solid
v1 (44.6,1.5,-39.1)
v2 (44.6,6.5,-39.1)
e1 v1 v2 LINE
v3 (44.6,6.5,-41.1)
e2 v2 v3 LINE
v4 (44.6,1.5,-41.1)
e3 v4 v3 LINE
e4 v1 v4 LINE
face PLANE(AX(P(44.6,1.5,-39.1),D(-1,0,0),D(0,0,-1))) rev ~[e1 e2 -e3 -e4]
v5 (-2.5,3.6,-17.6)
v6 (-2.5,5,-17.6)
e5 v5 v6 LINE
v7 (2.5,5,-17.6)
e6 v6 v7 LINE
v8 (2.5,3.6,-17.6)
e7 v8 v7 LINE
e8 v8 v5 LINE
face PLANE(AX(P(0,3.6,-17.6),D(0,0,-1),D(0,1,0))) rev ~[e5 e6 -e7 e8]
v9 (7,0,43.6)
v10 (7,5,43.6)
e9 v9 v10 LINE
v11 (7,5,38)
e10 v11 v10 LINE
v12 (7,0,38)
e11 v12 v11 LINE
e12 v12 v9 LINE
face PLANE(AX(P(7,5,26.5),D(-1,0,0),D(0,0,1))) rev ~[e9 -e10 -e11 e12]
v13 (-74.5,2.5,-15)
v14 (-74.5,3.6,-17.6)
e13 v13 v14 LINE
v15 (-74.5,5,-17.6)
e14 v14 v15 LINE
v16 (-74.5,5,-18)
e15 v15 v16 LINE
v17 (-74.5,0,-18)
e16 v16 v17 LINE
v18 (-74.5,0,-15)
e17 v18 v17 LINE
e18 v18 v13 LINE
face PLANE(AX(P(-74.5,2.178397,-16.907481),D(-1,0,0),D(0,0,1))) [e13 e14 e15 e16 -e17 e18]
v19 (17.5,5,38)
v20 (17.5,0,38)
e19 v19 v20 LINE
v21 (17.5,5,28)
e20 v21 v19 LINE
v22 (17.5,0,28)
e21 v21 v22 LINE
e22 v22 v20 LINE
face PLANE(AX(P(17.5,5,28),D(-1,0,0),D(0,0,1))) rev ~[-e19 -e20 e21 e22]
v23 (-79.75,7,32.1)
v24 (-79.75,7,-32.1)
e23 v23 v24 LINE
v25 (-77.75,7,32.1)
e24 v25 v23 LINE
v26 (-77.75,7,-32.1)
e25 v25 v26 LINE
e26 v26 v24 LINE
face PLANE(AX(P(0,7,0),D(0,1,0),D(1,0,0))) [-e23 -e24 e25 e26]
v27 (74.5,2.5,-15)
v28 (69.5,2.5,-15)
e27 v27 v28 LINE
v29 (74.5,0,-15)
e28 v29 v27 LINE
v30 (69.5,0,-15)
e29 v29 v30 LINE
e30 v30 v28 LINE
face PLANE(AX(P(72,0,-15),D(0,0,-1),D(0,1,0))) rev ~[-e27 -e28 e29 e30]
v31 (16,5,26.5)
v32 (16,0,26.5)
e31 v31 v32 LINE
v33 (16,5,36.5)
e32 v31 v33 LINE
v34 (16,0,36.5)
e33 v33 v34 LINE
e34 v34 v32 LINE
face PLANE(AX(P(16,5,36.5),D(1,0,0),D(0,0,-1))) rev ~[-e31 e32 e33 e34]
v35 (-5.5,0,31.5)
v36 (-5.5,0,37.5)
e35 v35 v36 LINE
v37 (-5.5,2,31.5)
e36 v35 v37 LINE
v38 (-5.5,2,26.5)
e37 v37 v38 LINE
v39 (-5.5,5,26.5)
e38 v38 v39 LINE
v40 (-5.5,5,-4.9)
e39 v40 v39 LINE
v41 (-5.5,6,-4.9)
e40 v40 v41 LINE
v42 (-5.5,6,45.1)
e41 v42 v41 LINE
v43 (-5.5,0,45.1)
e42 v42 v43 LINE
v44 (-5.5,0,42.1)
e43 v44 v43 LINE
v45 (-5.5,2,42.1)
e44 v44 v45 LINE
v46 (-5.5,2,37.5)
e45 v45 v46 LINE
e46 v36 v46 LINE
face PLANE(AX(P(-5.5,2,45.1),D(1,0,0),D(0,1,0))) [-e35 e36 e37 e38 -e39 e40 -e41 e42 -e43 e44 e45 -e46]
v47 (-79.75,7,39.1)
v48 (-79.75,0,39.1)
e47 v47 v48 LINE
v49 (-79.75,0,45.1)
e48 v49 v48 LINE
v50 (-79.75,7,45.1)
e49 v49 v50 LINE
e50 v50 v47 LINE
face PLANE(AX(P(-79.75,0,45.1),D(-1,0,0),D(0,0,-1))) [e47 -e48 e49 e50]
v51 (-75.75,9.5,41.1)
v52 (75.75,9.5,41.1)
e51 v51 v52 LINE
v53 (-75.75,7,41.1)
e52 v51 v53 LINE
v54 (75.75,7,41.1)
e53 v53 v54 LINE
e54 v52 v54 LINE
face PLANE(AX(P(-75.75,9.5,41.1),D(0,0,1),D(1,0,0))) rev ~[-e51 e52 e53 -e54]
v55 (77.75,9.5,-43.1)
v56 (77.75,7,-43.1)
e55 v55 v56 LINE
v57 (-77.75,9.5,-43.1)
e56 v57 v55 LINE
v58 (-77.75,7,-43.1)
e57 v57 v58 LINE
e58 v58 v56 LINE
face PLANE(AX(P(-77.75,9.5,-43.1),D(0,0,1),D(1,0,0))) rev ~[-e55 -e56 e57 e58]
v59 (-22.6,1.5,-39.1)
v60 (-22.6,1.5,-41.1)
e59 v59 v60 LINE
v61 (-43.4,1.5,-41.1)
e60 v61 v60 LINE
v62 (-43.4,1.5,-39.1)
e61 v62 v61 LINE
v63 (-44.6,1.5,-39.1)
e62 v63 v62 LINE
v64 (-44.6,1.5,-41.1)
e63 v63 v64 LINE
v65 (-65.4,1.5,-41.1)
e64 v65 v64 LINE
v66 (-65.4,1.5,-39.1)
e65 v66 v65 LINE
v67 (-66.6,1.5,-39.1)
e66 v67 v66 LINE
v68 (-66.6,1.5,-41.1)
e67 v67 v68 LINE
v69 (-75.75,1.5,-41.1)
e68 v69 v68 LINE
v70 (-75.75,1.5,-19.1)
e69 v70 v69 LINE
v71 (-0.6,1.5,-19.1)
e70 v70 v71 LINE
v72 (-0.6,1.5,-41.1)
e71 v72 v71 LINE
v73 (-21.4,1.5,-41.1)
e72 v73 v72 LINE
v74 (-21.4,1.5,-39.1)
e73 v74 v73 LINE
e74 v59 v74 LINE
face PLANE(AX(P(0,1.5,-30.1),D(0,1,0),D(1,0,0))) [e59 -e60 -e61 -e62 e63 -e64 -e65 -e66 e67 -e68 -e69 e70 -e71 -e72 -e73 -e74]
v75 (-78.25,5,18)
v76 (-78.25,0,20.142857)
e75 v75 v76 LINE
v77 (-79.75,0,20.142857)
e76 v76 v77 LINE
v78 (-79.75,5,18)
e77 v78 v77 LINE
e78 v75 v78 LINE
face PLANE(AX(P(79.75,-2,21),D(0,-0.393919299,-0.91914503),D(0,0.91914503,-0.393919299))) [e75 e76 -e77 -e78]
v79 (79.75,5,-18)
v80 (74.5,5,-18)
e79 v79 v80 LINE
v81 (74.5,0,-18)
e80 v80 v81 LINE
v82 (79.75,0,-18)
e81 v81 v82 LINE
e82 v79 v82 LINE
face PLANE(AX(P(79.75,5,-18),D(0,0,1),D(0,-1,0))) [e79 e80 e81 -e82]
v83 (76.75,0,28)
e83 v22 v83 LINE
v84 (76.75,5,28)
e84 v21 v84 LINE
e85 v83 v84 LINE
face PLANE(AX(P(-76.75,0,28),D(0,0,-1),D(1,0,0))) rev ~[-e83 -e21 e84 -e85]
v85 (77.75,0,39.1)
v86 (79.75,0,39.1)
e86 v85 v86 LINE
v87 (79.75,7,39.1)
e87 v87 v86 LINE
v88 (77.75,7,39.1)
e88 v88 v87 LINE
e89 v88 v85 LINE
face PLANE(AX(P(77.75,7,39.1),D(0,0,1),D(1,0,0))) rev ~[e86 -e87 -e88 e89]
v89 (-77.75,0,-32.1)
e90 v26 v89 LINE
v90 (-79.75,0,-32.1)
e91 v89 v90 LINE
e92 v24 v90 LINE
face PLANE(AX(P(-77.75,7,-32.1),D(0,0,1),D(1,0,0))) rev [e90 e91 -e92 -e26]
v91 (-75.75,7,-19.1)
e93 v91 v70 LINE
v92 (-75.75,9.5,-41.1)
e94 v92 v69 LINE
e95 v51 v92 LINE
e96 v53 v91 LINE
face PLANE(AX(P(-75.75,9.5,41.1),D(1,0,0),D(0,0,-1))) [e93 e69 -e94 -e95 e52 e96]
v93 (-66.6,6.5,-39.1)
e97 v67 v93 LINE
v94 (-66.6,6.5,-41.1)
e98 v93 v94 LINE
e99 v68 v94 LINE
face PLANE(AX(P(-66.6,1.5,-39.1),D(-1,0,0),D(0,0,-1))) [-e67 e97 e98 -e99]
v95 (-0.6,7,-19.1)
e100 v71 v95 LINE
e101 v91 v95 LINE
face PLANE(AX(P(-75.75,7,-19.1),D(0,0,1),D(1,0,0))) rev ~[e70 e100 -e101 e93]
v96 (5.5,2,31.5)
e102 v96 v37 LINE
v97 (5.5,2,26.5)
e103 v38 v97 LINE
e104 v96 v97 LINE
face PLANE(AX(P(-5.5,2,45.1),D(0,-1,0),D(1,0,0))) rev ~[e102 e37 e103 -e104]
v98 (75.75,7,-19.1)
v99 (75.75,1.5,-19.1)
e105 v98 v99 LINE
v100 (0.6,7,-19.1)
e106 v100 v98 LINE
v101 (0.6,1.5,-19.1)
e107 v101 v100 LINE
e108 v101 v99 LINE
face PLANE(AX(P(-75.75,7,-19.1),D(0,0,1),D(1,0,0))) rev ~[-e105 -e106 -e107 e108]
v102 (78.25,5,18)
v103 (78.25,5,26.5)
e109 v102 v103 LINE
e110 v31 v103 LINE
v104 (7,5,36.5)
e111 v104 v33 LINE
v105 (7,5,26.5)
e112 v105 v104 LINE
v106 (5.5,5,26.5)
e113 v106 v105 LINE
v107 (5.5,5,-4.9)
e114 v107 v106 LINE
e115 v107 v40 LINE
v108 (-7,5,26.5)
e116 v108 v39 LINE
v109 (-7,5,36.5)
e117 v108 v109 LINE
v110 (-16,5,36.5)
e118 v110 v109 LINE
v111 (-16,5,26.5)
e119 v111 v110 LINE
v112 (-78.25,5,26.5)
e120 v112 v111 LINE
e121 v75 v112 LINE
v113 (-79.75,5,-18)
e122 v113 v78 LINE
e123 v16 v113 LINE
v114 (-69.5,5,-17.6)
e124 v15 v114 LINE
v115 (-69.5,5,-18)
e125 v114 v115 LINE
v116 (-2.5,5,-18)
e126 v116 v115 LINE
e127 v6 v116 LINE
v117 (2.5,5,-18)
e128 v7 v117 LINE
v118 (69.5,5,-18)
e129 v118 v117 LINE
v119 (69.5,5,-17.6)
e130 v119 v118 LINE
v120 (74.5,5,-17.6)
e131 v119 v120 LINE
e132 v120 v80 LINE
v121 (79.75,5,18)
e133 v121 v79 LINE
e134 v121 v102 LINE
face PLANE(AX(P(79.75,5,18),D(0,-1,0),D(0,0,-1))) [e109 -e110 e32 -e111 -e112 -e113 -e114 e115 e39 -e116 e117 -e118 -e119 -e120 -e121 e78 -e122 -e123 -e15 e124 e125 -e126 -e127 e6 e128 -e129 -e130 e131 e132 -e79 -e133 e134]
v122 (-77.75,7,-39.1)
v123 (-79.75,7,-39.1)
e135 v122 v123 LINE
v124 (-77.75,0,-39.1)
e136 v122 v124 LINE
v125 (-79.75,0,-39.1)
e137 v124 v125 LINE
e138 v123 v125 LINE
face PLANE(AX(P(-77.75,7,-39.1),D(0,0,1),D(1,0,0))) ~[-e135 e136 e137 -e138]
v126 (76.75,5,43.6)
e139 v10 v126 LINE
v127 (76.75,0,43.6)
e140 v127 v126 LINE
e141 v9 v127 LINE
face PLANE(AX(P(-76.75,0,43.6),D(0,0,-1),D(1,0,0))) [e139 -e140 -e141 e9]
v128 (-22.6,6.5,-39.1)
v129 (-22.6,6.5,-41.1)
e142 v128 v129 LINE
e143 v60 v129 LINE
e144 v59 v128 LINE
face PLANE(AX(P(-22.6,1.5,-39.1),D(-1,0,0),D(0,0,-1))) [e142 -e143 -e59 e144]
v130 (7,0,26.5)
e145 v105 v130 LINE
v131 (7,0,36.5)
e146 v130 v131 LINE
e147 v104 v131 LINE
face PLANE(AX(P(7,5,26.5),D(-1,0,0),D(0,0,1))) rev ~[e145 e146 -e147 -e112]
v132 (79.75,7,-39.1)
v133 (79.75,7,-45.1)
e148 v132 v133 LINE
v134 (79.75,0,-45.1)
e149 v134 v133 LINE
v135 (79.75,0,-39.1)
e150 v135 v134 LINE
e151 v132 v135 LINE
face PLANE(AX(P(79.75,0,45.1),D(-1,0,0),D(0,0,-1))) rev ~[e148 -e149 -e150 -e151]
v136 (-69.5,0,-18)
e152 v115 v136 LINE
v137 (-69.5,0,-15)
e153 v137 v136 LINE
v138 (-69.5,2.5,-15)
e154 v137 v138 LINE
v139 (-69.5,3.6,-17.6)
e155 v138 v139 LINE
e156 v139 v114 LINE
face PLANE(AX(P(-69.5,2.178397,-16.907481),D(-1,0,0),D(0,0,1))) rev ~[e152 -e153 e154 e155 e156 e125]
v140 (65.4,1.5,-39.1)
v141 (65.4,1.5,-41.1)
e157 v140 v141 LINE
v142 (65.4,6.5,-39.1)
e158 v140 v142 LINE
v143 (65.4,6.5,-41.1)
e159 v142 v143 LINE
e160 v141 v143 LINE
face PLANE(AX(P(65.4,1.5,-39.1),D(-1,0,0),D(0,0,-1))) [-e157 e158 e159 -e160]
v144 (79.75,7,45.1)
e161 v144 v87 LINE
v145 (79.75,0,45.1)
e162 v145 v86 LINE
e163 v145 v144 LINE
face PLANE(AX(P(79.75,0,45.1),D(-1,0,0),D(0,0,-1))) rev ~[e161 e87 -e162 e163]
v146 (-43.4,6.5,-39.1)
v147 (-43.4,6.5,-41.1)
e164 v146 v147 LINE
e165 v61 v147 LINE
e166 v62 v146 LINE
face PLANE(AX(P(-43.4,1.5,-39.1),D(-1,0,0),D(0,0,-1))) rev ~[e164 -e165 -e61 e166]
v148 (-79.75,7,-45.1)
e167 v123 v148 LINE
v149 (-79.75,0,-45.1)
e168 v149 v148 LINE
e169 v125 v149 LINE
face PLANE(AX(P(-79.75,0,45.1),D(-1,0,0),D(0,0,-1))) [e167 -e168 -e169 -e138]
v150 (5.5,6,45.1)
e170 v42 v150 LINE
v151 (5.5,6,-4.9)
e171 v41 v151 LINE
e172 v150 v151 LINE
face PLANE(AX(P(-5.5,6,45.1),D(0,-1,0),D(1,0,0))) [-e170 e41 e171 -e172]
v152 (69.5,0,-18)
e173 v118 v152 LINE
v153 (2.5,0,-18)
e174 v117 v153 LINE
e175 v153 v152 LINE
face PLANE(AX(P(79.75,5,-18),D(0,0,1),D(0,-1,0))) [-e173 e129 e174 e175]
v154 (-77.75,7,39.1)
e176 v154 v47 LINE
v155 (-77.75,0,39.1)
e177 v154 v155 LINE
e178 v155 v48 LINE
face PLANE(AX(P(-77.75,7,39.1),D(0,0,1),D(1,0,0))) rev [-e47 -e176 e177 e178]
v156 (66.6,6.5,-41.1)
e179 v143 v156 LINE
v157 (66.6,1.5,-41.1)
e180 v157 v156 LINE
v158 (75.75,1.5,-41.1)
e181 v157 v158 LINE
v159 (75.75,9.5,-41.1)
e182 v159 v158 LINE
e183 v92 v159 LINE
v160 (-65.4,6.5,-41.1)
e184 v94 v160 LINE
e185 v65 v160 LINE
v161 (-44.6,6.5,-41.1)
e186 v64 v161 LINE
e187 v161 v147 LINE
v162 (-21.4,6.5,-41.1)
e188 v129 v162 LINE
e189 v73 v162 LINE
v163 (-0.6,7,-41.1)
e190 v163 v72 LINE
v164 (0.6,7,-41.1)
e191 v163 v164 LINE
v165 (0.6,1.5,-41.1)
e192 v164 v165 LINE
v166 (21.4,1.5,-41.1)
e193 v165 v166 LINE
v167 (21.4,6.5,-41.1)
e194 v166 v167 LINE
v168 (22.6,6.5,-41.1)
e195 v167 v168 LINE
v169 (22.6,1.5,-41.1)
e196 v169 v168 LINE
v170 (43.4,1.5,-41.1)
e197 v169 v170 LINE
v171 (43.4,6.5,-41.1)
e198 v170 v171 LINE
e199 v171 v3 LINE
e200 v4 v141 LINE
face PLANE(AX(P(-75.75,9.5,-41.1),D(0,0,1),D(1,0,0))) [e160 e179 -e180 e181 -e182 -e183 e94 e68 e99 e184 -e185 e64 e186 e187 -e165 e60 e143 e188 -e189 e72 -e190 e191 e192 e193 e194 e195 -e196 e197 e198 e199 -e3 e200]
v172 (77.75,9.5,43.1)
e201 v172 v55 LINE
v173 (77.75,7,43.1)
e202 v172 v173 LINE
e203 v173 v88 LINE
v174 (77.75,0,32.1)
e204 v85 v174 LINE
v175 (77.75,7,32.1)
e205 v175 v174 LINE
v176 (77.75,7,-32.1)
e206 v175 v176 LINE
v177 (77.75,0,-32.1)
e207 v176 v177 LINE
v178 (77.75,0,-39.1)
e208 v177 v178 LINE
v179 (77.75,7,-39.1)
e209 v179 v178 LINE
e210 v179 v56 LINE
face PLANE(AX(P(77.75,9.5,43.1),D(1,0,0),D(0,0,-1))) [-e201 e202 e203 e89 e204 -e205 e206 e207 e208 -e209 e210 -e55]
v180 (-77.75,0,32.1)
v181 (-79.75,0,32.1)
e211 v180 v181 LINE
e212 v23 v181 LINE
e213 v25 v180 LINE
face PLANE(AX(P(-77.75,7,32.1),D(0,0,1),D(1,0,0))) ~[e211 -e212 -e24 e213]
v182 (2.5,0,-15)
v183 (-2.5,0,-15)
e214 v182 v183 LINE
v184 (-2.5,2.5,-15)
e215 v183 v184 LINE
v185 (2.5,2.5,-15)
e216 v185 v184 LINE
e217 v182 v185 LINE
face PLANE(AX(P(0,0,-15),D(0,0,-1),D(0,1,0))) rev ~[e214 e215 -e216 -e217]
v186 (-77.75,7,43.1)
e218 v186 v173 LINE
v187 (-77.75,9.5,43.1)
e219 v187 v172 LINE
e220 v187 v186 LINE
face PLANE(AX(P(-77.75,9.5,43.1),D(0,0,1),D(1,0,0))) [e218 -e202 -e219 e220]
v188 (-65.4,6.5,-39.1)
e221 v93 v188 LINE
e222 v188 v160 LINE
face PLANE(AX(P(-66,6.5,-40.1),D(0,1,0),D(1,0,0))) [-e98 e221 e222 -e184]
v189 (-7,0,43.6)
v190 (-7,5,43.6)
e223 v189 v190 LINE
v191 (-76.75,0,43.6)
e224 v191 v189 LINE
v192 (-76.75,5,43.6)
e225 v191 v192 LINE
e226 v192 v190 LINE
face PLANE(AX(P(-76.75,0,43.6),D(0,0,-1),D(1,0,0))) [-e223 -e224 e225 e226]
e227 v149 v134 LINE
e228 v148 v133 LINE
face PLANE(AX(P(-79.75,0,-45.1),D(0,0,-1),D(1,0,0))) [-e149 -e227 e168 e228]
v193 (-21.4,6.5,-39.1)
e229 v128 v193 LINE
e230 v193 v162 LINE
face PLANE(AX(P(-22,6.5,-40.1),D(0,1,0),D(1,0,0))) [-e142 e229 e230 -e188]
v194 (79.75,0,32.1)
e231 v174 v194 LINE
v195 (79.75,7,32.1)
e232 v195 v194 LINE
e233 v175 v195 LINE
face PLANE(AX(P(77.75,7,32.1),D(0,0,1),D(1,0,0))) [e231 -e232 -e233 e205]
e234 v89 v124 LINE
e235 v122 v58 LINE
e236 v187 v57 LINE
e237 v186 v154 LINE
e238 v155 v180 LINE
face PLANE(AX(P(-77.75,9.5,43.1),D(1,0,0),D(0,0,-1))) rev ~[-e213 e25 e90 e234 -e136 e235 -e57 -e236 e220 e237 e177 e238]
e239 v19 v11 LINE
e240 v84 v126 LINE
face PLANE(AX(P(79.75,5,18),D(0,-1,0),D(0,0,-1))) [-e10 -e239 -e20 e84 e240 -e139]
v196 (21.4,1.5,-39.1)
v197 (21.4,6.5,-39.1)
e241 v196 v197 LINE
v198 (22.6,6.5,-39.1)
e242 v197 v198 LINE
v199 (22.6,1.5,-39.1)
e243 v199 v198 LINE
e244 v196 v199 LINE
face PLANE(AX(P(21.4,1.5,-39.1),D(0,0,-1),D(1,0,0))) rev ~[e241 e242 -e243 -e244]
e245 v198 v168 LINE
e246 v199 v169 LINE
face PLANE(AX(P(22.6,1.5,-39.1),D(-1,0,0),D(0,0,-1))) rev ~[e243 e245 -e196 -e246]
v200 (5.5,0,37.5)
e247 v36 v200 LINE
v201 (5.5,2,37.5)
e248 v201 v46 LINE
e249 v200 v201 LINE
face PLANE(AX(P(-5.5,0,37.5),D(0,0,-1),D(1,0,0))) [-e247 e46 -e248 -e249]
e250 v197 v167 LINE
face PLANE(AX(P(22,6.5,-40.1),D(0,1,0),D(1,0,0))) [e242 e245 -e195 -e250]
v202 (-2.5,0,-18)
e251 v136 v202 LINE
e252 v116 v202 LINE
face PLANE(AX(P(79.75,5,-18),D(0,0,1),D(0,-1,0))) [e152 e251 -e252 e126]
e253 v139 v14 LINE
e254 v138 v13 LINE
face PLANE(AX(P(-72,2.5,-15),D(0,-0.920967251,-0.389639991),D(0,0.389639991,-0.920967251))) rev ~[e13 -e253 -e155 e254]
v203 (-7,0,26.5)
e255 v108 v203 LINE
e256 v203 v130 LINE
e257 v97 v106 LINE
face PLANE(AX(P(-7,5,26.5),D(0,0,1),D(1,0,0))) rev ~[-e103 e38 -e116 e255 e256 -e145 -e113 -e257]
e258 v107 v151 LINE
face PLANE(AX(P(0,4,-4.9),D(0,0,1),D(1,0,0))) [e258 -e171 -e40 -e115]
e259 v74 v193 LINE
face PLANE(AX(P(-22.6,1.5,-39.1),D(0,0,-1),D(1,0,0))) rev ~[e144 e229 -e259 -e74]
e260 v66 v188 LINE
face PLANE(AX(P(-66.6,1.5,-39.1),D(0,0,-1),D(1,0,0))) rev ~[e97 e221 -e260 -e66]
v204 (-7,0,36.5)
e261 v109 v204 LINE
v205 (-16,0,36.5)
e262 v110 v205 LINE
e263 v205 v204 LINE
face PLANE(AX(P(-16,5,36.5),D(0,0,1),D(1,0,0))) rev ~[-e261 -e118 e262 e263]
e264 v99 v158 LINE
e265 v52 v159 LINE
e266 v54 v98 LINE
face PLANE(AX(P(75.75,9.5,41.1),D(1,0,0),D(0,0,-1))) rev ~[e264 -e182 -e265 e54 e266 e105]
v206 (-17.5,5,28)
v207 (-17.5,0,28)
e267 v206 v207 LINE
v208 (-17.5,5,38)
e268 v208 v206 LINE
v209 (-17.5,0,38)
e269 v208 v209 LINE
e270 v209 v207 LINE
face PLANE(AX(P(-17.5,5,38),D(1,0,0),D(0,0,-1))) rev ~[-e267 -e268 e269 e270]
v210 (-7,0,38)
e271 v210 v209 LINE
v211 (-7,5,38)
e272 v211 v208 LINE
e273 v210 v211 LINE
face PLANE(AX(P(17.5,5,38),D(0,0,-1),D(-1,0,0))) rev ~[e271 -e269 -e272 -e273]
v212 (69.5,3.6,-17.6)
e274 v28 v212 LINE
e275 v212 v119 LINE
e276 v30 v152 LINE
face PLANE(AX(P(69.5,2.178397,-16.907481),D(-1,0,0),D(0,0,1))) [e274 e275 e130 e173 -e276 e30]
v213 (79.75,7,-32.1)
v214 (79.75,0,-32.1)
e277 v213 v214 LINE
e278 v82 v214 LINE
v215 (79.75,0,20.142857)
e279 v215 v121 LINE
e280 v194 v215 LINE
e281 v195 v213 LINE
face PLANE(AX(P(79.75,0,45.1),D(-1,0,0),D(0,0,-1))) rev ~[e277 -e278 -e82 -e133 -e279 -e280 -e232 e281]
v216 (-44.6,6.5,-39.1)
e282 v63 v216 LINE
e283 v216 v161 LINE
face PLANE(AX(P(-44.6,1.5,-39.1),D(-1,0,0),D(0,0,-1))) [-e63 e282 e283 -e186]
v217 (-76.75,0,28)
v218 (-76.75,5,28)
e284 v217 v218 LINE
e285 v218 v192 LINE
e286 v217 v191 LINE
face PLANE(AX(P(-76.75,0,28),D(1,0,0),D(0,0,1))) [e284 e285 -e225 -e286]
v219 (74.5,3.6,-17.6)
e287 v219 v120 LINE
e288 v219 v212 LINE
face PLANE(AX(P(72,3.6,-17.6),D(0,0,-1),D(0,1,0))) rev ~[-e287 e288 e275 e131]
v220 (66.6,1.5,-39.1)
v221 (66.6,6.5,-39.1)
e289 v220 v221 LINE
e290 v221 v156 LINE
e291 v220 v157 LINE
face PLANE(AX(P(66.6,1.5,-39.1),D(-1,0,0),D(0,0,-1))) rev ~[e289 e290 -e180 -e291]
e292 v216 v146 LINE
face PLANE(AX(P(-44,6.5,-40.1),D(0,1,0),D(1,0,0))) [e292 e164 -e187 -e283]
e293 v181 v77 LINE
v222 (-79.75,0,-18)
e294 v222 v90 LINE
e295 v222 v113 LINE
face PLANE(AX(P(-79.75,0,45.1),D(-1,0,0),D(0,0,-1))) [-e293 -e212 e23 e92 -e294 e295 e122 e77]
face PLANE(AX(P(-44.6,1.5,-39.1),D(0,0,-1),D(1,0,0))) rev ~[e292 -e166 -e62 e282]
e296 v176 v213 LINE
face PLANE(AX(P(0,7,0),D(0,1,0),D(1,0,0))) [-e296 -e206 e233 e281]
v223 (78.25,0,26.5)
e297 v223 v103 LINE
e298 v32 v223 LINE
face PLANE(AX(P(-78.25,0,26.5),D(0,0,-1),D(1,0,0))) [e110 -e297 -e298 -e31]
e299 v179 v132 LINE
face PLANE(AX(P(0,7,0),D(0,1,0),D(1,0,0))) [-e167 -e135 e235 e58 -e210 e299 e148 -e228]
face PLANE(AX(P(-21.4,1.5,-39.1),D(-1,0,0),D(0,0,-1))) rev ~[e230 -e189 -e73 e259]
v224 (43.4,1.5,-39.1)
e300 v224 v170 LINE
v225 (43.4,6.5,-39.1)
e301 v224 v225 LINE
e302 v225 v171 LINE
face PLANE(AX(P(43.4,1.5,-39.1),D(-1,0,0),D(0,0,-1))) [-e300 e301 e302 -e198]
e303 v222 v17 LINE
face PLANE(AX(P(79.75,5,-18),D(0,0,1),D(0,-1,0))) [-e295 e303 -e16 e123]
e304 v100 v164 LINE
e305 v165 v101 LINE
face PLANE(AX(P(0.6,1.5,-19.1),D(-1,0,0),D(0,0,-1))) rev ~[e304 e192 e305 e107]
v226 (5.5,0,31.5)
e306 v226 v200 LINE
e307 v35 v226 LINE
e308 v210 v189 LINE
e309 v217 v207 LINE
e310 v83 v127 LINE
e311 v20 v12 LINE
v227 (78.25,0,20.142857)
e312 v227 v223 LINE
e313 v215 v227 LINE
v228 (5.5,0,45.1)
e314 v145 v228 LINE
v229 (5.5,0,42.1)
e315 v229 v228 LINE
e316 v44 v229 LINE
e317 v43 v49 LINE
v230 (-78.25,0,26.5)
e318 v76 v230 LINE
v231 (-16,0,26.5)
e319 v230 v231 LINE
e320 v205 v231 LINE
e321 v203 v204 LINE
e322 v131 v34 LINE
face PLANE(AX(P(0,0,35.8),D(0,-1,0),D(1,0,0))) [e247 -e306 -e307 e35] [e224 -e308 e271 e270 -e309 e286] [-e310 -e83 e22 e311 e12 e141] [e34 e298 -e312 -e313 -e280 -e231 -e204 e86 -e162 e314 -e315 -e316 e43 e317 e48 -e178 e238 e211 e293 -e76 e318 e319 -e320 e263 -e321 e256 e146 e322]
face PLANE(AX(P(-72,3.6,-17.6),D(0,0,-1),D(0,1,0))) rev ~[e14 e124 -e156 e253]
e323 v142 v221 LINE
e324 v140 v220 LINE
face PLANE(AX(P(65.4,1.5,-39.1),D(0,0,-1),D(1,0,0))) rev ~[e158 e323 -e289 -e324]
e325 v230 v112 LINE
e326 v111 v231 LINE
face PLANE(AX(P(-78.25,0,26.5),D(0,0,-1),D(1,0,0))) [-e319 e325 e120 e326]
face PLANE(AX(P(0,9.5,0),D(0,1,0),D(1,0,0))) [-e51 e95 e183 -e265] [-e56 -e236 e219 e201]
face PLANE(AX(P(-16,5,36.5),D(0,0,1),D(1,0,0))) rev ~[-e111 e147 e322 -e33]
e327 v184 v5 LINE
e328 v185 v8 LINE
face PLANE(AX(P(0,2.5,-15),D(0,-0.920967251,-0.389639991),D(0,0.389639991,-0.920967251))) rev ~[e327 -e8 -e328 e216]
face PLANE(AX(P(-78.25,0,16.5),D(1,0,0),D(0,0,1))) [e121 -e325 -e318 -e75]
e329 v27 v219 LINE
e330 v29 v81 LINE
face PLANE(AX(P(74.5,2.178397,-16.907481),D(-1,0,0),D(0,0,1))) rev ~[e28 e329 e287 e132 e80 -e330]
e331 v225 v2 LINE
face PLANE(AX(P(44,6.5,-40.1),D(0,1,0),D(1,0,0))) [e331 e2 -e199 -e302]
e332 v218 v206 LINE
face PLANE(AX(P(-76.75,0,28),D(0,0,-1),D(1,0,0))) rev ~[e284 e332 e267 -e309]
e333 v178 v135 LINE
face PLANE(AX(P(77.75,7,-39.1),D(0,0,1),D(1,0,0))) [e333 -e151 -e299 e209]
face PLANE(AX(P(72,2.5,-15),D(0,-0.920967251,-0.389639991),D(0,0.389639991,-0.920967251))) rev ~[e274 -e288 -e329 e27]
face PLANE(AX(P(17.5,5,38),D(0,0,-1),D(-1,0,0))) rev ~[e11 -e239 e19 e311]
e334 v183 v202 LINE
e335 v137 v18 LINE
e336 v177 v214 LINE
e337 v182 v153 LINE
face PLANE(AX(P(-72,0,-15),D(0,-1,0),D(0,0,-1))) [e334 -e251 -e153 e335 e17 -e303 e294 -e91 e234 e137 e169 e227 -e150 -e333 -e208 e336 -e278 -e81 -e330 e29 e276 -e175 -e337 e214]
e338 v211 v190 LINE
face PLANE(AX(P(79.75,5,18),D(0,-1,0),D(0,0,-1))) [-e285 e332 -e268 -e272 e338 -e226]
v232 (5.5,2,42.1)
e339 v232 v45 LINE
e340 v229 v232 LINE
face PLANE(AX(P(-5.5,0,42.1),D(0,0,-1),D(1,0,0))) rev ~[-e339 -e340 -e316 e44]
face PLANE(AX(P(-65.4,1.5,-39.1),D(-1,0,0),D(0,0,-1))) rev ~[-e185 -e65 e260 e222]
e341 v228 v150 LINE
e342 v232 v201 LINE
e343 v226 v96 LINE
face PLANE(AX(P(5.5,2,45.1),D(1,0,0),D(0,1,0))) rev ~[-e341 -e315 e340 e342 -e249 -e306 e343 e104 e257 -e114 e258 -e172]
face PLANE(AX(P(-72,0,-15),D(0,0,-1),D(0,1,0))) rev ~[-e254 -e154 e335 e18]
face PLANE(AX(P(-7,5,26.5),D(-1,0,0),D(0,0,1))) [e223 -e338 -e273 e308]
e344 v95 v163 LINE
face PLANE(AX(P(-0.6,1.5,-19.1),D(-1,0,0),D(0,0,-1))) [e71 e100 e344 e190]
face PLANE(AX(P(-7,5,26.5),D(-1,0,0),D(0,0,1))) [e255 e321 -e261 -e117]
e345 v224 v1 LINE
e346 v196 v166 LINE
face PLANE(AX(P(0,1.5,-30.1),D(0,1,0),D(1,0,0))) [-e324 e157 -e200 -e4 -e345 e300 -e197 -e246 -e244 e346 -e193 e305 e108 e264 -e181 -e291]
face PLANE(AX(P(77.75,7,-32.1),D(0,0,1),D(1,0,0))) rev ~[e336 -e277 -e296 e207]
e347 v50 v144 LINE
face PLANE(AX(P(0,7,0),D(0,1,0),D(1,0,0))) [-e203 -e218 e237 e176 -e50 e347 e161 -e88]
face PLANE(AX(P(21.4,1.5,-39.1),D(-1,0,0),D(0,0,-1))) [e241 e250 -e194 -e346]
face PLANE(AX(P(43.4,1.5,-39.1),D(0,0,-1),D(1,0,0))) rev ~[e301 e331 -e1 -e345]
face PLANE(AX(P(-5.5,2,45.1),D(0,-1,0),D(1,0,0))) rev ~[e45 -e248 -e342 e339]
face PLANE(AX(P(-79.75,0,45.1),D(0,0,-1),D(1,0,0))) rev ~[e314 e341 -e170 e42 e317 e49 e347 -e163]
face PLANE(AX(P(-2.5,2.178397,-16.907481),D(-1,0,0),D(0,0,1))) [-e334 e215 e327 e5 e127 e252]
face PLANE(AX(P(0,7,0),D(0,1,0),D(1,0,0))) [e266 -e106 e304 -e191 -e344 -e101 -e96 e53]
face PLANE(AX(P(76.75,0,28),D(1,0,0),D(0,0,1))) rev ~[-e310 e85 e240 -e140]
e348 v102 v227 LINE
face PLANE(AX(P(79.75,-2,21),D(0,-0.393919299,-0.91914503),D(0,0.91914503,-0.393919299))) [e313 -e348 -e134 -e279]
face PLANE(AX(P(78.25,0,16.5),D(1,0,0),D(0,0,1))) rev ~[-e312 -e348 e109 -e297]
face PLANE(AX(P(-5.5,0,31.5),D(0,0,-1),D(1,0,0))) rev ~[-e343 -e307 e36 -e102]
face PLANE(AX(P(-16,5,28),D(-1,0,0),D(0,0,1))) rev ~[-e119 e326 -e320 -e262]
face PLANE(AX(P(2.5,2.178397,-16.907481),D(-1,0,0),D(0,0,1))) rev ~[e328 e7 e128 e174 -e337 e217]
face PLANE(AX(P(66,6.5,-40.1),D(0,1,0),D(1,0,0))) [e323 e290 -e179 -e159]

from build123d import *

# Parameters (mm, degrees)
SKETCH_1_W                 = 159.5
SKETCH_1_H                 = 90.2
EXTRUDE_1_DEPTH            = 9.5
SKETCH_2_W                 = 163.5
SKETCH_2_H                 = 94.2
SKETCH_2_W_2               = 155.5
SKETCH_2_H_2               = 86.2
CUT_EXTRUDE_1_DEPTH        = 2.5
SKETCH_3_W                 = 151.5
SKETCH_3_H                 = 82.2
CUT_EXTRUDE_2_DEPTH        = 2.5
SKETCH_4_W                 = 151.5
SKETCH_4_H                 = 22
CUT_EXTRUDE_3_DEPTH        = 5.5
SKETCH_5_W                 = 1.2
SKETCH_5_H                 = 22
EXTRUDE_2_DEPTH            = 5.5
SKETCH_7_W                 = 1.2
SKETCH_7_H                 = 2
EXTRUDE_4_DEPTH            = 5
PATTERN_LINEAR_1_COUNT     = 4
PATTERN_LINEAR_1_PITCH     = 22
PATTERN_LINEAR_1_COL_COUNT = 4
PATTERN_LINEAR_1_COL_PITCH = 22
SKETCH_8_W                 = 2
SKETCH_8_H                 = 7
CUT_EXTRUDE_4_DEPTH        = 92.886193196
CUT_EXTRUDE_5_DEPTH        = 167.025630551
EXTRUDE_5_DEPTH            = 2.5
PATTERN_LINEAR_2_COUNT     = 2
PATTERN_LINEAR_2_PITCH     = 72
PATTERN_LINEAR_2_COL_COUNT = 2
PATTERN_LINEAR_2_COL_PITCH = 72
SKETCH_11_W                = 153.5
SKETCH_11_H                = 15.6
CUT_EXTRUDE_6_DEPTH        = 5
SKETCH_12_W                = 156.5
SKETCH_12_H                = 10
CUT_EXTRUDE_7_DEPTH        = 5
SKETCH_13_W                = 32
SKETCH_13_H                = 10
CUT_EXTRUDE_8_DEPTH        = 5
EXTRUDE_6_DEPTH            = 5
SKETCH_15_W                = 14
SKETCH_15_H                = 18.6
EXTRUDE_7_DEPTH            = 5
SKETCH_16_W                = 11
SKETCH_16_H                = 6
SKETCH_16_H_2              = 5
CUT_EXTRUDE_9_DEPTH        = 5
SKETCH_17_W                = 11
SKETCH_17_H                = 4
CUT_EXTRUDE_10_DEPTH       = 50


with BuildPart() as part:
    # Эскиз1 → Бобышка-Вытянуть1 (new body)
    with BuildSketch(Plane(origin=(0, 0, 0), x_dir=(1, 0, 0), z_dir=(0, 1, 0))):
        Rectangle(SKETCH_1_W, SKETCH_1_H)
    extrude(amount=EXTRUDE_1_DEPTH)

    # Эскиз2 → Вырез-Вытянуть1 (cut)
    with BuildSketch(Plane(origin=(0, 9.5, 0), x_dir=(1, 0, 0), z_dir=(0, 1, 0))):
        Rectangle(SKETCH_2_W, SKETCH_2_H)
        Rectangle(SKETCH_2_W_2, SKETCH_2_H_2, mode=Mode.SUBTRACT)
    extrude(amount=-CUT_EXTRUDE_1_DEPTH, mode=Mode.SUBTRACT)

    # Эскиз3 → Вырез-Вытянуть2 (cut)
    with BuildSketch(Plane(origin=(0, 9.5, 0), x_dir=(1, 0, 0), z_dir=(0, 1, 0))):
        Rectangle(SKETCH_3_W, SKETCH_3_H)
    extrude(amount=-CUT_EXTRUDE_2_DEPTH, mode=Mode.SUBTRACT)

    # Эскиз4 → Вырез-Вытянуть3 (cut)
    with BuildSketch(Plane(origin=(0, 7, 0), x_dir=(1, 0, 0), z_dir=(0, 1, 0))):
        with Locations((0, 30.1)):
            Rectangle(SKETCH_4_W, SKETCH_4_H)
    extrude(amount=-CUT_EXTRUDE_3_DEPTH, mode=Mode.SUBTRACT)

    # Эскиз5 → Бобышка-Вытянуть2 (add)
    with BuildSketch(Plane(origin=(0, 1.5, 0), x_dir=(1, 0, 0), z_dir=(0, 1, 0))):
        with Locations((0, 30.1)):
            Rectangle(SKETCH_5_W, SKETCH_5_H)
    extrude(amount=EXTRUDE_2_DEPTH)

    # Эскиз7 → Бобышка-Вытянуть4 (add)
    with BuildSketch(Plane(origin=(0, 1.5, 0), x_dir=(1, 0, 0), z_dir=(0, 1, 0))):
        with Locations((0, 40.1)):
            Rectangle(SKETCH_7_W, SKETCH_7_H)
    extrude_4 = extrude(amount=EXTRUDE_4_DEPTH)

    # Линейный массив1: Бобышка-Вытянуть4 ×4
    with Locations(*[(-i * PATTERN_LINEAR_1_PITCH, 0, 0) for i in range(1, PATTERN_LINEAR_1_COUNT)]):
        add(extrude_4)

    # Линейный массив1 col: Бобышка-Вытянуть4 ×4
    with Locations(*[(i * PATTERN_LINEAR_1_COL_PITCH, 0, 0) for i in range(1, PATTERN_LINEAR_1_COL_COUNT)]):
        add(extrude_4)

    # Эскиз8 → Вырез-Вытянуть4 (cut, through all)
    with BuildSketch(Plane(origin=(0, 7, 0), x_dir=(1, 0, 0), z_dir=(0, 1, 0))):
        with Locations((78.75, 35.6)):
            Rectangle(SKETCH_8_W, SKETCH_8_H)
        with Locations((78.75, -35.6)):
            Rectangle(SKETCH_8_W, SKETCH_8_H)
    cut_extrude_4 = extrude(amount=-CUT_EXTRUDE_4_DEPTH, mode=Mode.SUBTRACT)

    # Зеркальное отражение1: Вырез-Вытянуть4 across plane
    add(cut_extrude_4.mirror(Plane(origin=(0, 0, 0), x_dir=(0, 0, 1), z_dir=(1, 0, 0))), mode=Mode.SUBTRACT)

    # Эскиз9 → Вырез-Вытянуть5 (cut, through all)
    with BuildSketch(Plane(origin=(79.75, 0, 0), x_dir=(0, 0, -1), z_dir=(1, 0, 0))):
        Polygon((-21, -2), (-18, 5), (18, 5), (18, -2), align=None)
    extrude(amount=-CUT_EXTRUDE_5_DEPTH, mode=Mode.SUBTRACT)

    # Эскиз10 → Бобышка-Вытянуть5 (add, symmetric)
    with BuildSketch(Plane(origin=(0, 0, 0), x_dir=(0, 0, -1), z_dir=(1, 0, 0))):
        Polygon((18, 0), (15, 0), (15, 2.5), (17.6, 3.6), (17.6, 5.1), (18.1, 5.1), (18.1, 0), align=None)
    extrude_5 = extrude(amount=EXTRUDE_5_DEPTH, both=True)

    # Линейный массив2: Бобышка-Вытянуть5 ×2
    with Locations(*[(i * PATTERN_LINEAR_2_PITCH, 0, 0) for i in range(1, PATTERN_LINEAR_2_COUNT)]):
        add(extrude_5)

    # Линейный массив2 col: Бобышка-Вытянуть5 ×2
    with Locations(*[(-i * PATTERN_LINEAR_2_COL_PITCH, 0, 0) for i in range(1, PATTERN_LINEAR_2_COL_COUNT)]):
        add(extrude_5)

    # Эскиз11 → Вырез-Вытянуть6 (cut)
    with BuildSketch(Plane.XZ):
        with Locations((0, 35.8)):
            Rectangle(SKETCH_11_W, SKETCH_11_H)
    extrude(amount=-CUT_EXTRUDE_6_DEPTH, mode=Mode.SUBTRACT)

    # Эскиз12 → Вырез-Вытянуть7 (cut)
    with BuildSketch(Plane.XZ):
        with Locations((0, 21.5)):
            Rectangle(SKETCH_12_W, SKETCH_12_H)
    extrude(amount=-CUT_EXTRUDE_7_DEPTH, mode=Mode.SUBTRACT)

    # Эскиз13 → Вырез-Вытянуть8 (cut)
    with BuildSketch(Plane.XZ):
        with Locations((0, 28.6)):
            Rectangle(SKETCH_13_W, SKETCH_13_H)
    extrude(amount=-CUT_EXTRUDE_8_DEPTH, mode=Mode.SUBTRACT)

    # Эскиз14 → Бобышка-Вытянуть6 (add)
    with BuildSketch(Plane.XZ.offset(-5)):
        Polygon((-16, 28), (-16, 36.5), (16, 36.5), (16, 28), (17.5, 28), (17.5, 38), (-17.5, 38), (-17.5, 28), align=None)
    extrude(amount=EXTRUDE_6_DEPTH)

    # Эскиз15 → Бобышка-Вытянуть7 (add)
    with BuildSketch(Plane.XZ.offset(-5)):
        with Locations((0, 35.8)):
            Rectangle(SKETCH_15_W, SKETCH_15_H)
    extrude(amount=EXTRUDE_7_DEPTH)

    # Эскиз16 → Вырез-Вытянуть9 (cut)
    with BuildSketch(Plane.XZ):
        with Locations((0, 34.5)):
            Rectangle(SKETCH_16_W, SKETCH_16_H)
        with Locations((0, 44.6)):
            Rectangle(SKETCH_16_W, SKETCH_16_H_2)
    extrude(amount=-CUT_EXTRUDE_9_DEPTH, mode=Mode.SUBTRACT)

    # Эскиз17 → Вырез-Вытянуть10 (cut)
    with BuildSketch(Plane.XY.offset(45.1)):
        with Locations((0, 4)):
            Rectangle(SKETCH_17_W, SKETCH_17_H)
    extrude(amount=-CUT_EXTRUDE_10_DEPTH, mode=Mode.SUBTRACT)


solid = part.part
